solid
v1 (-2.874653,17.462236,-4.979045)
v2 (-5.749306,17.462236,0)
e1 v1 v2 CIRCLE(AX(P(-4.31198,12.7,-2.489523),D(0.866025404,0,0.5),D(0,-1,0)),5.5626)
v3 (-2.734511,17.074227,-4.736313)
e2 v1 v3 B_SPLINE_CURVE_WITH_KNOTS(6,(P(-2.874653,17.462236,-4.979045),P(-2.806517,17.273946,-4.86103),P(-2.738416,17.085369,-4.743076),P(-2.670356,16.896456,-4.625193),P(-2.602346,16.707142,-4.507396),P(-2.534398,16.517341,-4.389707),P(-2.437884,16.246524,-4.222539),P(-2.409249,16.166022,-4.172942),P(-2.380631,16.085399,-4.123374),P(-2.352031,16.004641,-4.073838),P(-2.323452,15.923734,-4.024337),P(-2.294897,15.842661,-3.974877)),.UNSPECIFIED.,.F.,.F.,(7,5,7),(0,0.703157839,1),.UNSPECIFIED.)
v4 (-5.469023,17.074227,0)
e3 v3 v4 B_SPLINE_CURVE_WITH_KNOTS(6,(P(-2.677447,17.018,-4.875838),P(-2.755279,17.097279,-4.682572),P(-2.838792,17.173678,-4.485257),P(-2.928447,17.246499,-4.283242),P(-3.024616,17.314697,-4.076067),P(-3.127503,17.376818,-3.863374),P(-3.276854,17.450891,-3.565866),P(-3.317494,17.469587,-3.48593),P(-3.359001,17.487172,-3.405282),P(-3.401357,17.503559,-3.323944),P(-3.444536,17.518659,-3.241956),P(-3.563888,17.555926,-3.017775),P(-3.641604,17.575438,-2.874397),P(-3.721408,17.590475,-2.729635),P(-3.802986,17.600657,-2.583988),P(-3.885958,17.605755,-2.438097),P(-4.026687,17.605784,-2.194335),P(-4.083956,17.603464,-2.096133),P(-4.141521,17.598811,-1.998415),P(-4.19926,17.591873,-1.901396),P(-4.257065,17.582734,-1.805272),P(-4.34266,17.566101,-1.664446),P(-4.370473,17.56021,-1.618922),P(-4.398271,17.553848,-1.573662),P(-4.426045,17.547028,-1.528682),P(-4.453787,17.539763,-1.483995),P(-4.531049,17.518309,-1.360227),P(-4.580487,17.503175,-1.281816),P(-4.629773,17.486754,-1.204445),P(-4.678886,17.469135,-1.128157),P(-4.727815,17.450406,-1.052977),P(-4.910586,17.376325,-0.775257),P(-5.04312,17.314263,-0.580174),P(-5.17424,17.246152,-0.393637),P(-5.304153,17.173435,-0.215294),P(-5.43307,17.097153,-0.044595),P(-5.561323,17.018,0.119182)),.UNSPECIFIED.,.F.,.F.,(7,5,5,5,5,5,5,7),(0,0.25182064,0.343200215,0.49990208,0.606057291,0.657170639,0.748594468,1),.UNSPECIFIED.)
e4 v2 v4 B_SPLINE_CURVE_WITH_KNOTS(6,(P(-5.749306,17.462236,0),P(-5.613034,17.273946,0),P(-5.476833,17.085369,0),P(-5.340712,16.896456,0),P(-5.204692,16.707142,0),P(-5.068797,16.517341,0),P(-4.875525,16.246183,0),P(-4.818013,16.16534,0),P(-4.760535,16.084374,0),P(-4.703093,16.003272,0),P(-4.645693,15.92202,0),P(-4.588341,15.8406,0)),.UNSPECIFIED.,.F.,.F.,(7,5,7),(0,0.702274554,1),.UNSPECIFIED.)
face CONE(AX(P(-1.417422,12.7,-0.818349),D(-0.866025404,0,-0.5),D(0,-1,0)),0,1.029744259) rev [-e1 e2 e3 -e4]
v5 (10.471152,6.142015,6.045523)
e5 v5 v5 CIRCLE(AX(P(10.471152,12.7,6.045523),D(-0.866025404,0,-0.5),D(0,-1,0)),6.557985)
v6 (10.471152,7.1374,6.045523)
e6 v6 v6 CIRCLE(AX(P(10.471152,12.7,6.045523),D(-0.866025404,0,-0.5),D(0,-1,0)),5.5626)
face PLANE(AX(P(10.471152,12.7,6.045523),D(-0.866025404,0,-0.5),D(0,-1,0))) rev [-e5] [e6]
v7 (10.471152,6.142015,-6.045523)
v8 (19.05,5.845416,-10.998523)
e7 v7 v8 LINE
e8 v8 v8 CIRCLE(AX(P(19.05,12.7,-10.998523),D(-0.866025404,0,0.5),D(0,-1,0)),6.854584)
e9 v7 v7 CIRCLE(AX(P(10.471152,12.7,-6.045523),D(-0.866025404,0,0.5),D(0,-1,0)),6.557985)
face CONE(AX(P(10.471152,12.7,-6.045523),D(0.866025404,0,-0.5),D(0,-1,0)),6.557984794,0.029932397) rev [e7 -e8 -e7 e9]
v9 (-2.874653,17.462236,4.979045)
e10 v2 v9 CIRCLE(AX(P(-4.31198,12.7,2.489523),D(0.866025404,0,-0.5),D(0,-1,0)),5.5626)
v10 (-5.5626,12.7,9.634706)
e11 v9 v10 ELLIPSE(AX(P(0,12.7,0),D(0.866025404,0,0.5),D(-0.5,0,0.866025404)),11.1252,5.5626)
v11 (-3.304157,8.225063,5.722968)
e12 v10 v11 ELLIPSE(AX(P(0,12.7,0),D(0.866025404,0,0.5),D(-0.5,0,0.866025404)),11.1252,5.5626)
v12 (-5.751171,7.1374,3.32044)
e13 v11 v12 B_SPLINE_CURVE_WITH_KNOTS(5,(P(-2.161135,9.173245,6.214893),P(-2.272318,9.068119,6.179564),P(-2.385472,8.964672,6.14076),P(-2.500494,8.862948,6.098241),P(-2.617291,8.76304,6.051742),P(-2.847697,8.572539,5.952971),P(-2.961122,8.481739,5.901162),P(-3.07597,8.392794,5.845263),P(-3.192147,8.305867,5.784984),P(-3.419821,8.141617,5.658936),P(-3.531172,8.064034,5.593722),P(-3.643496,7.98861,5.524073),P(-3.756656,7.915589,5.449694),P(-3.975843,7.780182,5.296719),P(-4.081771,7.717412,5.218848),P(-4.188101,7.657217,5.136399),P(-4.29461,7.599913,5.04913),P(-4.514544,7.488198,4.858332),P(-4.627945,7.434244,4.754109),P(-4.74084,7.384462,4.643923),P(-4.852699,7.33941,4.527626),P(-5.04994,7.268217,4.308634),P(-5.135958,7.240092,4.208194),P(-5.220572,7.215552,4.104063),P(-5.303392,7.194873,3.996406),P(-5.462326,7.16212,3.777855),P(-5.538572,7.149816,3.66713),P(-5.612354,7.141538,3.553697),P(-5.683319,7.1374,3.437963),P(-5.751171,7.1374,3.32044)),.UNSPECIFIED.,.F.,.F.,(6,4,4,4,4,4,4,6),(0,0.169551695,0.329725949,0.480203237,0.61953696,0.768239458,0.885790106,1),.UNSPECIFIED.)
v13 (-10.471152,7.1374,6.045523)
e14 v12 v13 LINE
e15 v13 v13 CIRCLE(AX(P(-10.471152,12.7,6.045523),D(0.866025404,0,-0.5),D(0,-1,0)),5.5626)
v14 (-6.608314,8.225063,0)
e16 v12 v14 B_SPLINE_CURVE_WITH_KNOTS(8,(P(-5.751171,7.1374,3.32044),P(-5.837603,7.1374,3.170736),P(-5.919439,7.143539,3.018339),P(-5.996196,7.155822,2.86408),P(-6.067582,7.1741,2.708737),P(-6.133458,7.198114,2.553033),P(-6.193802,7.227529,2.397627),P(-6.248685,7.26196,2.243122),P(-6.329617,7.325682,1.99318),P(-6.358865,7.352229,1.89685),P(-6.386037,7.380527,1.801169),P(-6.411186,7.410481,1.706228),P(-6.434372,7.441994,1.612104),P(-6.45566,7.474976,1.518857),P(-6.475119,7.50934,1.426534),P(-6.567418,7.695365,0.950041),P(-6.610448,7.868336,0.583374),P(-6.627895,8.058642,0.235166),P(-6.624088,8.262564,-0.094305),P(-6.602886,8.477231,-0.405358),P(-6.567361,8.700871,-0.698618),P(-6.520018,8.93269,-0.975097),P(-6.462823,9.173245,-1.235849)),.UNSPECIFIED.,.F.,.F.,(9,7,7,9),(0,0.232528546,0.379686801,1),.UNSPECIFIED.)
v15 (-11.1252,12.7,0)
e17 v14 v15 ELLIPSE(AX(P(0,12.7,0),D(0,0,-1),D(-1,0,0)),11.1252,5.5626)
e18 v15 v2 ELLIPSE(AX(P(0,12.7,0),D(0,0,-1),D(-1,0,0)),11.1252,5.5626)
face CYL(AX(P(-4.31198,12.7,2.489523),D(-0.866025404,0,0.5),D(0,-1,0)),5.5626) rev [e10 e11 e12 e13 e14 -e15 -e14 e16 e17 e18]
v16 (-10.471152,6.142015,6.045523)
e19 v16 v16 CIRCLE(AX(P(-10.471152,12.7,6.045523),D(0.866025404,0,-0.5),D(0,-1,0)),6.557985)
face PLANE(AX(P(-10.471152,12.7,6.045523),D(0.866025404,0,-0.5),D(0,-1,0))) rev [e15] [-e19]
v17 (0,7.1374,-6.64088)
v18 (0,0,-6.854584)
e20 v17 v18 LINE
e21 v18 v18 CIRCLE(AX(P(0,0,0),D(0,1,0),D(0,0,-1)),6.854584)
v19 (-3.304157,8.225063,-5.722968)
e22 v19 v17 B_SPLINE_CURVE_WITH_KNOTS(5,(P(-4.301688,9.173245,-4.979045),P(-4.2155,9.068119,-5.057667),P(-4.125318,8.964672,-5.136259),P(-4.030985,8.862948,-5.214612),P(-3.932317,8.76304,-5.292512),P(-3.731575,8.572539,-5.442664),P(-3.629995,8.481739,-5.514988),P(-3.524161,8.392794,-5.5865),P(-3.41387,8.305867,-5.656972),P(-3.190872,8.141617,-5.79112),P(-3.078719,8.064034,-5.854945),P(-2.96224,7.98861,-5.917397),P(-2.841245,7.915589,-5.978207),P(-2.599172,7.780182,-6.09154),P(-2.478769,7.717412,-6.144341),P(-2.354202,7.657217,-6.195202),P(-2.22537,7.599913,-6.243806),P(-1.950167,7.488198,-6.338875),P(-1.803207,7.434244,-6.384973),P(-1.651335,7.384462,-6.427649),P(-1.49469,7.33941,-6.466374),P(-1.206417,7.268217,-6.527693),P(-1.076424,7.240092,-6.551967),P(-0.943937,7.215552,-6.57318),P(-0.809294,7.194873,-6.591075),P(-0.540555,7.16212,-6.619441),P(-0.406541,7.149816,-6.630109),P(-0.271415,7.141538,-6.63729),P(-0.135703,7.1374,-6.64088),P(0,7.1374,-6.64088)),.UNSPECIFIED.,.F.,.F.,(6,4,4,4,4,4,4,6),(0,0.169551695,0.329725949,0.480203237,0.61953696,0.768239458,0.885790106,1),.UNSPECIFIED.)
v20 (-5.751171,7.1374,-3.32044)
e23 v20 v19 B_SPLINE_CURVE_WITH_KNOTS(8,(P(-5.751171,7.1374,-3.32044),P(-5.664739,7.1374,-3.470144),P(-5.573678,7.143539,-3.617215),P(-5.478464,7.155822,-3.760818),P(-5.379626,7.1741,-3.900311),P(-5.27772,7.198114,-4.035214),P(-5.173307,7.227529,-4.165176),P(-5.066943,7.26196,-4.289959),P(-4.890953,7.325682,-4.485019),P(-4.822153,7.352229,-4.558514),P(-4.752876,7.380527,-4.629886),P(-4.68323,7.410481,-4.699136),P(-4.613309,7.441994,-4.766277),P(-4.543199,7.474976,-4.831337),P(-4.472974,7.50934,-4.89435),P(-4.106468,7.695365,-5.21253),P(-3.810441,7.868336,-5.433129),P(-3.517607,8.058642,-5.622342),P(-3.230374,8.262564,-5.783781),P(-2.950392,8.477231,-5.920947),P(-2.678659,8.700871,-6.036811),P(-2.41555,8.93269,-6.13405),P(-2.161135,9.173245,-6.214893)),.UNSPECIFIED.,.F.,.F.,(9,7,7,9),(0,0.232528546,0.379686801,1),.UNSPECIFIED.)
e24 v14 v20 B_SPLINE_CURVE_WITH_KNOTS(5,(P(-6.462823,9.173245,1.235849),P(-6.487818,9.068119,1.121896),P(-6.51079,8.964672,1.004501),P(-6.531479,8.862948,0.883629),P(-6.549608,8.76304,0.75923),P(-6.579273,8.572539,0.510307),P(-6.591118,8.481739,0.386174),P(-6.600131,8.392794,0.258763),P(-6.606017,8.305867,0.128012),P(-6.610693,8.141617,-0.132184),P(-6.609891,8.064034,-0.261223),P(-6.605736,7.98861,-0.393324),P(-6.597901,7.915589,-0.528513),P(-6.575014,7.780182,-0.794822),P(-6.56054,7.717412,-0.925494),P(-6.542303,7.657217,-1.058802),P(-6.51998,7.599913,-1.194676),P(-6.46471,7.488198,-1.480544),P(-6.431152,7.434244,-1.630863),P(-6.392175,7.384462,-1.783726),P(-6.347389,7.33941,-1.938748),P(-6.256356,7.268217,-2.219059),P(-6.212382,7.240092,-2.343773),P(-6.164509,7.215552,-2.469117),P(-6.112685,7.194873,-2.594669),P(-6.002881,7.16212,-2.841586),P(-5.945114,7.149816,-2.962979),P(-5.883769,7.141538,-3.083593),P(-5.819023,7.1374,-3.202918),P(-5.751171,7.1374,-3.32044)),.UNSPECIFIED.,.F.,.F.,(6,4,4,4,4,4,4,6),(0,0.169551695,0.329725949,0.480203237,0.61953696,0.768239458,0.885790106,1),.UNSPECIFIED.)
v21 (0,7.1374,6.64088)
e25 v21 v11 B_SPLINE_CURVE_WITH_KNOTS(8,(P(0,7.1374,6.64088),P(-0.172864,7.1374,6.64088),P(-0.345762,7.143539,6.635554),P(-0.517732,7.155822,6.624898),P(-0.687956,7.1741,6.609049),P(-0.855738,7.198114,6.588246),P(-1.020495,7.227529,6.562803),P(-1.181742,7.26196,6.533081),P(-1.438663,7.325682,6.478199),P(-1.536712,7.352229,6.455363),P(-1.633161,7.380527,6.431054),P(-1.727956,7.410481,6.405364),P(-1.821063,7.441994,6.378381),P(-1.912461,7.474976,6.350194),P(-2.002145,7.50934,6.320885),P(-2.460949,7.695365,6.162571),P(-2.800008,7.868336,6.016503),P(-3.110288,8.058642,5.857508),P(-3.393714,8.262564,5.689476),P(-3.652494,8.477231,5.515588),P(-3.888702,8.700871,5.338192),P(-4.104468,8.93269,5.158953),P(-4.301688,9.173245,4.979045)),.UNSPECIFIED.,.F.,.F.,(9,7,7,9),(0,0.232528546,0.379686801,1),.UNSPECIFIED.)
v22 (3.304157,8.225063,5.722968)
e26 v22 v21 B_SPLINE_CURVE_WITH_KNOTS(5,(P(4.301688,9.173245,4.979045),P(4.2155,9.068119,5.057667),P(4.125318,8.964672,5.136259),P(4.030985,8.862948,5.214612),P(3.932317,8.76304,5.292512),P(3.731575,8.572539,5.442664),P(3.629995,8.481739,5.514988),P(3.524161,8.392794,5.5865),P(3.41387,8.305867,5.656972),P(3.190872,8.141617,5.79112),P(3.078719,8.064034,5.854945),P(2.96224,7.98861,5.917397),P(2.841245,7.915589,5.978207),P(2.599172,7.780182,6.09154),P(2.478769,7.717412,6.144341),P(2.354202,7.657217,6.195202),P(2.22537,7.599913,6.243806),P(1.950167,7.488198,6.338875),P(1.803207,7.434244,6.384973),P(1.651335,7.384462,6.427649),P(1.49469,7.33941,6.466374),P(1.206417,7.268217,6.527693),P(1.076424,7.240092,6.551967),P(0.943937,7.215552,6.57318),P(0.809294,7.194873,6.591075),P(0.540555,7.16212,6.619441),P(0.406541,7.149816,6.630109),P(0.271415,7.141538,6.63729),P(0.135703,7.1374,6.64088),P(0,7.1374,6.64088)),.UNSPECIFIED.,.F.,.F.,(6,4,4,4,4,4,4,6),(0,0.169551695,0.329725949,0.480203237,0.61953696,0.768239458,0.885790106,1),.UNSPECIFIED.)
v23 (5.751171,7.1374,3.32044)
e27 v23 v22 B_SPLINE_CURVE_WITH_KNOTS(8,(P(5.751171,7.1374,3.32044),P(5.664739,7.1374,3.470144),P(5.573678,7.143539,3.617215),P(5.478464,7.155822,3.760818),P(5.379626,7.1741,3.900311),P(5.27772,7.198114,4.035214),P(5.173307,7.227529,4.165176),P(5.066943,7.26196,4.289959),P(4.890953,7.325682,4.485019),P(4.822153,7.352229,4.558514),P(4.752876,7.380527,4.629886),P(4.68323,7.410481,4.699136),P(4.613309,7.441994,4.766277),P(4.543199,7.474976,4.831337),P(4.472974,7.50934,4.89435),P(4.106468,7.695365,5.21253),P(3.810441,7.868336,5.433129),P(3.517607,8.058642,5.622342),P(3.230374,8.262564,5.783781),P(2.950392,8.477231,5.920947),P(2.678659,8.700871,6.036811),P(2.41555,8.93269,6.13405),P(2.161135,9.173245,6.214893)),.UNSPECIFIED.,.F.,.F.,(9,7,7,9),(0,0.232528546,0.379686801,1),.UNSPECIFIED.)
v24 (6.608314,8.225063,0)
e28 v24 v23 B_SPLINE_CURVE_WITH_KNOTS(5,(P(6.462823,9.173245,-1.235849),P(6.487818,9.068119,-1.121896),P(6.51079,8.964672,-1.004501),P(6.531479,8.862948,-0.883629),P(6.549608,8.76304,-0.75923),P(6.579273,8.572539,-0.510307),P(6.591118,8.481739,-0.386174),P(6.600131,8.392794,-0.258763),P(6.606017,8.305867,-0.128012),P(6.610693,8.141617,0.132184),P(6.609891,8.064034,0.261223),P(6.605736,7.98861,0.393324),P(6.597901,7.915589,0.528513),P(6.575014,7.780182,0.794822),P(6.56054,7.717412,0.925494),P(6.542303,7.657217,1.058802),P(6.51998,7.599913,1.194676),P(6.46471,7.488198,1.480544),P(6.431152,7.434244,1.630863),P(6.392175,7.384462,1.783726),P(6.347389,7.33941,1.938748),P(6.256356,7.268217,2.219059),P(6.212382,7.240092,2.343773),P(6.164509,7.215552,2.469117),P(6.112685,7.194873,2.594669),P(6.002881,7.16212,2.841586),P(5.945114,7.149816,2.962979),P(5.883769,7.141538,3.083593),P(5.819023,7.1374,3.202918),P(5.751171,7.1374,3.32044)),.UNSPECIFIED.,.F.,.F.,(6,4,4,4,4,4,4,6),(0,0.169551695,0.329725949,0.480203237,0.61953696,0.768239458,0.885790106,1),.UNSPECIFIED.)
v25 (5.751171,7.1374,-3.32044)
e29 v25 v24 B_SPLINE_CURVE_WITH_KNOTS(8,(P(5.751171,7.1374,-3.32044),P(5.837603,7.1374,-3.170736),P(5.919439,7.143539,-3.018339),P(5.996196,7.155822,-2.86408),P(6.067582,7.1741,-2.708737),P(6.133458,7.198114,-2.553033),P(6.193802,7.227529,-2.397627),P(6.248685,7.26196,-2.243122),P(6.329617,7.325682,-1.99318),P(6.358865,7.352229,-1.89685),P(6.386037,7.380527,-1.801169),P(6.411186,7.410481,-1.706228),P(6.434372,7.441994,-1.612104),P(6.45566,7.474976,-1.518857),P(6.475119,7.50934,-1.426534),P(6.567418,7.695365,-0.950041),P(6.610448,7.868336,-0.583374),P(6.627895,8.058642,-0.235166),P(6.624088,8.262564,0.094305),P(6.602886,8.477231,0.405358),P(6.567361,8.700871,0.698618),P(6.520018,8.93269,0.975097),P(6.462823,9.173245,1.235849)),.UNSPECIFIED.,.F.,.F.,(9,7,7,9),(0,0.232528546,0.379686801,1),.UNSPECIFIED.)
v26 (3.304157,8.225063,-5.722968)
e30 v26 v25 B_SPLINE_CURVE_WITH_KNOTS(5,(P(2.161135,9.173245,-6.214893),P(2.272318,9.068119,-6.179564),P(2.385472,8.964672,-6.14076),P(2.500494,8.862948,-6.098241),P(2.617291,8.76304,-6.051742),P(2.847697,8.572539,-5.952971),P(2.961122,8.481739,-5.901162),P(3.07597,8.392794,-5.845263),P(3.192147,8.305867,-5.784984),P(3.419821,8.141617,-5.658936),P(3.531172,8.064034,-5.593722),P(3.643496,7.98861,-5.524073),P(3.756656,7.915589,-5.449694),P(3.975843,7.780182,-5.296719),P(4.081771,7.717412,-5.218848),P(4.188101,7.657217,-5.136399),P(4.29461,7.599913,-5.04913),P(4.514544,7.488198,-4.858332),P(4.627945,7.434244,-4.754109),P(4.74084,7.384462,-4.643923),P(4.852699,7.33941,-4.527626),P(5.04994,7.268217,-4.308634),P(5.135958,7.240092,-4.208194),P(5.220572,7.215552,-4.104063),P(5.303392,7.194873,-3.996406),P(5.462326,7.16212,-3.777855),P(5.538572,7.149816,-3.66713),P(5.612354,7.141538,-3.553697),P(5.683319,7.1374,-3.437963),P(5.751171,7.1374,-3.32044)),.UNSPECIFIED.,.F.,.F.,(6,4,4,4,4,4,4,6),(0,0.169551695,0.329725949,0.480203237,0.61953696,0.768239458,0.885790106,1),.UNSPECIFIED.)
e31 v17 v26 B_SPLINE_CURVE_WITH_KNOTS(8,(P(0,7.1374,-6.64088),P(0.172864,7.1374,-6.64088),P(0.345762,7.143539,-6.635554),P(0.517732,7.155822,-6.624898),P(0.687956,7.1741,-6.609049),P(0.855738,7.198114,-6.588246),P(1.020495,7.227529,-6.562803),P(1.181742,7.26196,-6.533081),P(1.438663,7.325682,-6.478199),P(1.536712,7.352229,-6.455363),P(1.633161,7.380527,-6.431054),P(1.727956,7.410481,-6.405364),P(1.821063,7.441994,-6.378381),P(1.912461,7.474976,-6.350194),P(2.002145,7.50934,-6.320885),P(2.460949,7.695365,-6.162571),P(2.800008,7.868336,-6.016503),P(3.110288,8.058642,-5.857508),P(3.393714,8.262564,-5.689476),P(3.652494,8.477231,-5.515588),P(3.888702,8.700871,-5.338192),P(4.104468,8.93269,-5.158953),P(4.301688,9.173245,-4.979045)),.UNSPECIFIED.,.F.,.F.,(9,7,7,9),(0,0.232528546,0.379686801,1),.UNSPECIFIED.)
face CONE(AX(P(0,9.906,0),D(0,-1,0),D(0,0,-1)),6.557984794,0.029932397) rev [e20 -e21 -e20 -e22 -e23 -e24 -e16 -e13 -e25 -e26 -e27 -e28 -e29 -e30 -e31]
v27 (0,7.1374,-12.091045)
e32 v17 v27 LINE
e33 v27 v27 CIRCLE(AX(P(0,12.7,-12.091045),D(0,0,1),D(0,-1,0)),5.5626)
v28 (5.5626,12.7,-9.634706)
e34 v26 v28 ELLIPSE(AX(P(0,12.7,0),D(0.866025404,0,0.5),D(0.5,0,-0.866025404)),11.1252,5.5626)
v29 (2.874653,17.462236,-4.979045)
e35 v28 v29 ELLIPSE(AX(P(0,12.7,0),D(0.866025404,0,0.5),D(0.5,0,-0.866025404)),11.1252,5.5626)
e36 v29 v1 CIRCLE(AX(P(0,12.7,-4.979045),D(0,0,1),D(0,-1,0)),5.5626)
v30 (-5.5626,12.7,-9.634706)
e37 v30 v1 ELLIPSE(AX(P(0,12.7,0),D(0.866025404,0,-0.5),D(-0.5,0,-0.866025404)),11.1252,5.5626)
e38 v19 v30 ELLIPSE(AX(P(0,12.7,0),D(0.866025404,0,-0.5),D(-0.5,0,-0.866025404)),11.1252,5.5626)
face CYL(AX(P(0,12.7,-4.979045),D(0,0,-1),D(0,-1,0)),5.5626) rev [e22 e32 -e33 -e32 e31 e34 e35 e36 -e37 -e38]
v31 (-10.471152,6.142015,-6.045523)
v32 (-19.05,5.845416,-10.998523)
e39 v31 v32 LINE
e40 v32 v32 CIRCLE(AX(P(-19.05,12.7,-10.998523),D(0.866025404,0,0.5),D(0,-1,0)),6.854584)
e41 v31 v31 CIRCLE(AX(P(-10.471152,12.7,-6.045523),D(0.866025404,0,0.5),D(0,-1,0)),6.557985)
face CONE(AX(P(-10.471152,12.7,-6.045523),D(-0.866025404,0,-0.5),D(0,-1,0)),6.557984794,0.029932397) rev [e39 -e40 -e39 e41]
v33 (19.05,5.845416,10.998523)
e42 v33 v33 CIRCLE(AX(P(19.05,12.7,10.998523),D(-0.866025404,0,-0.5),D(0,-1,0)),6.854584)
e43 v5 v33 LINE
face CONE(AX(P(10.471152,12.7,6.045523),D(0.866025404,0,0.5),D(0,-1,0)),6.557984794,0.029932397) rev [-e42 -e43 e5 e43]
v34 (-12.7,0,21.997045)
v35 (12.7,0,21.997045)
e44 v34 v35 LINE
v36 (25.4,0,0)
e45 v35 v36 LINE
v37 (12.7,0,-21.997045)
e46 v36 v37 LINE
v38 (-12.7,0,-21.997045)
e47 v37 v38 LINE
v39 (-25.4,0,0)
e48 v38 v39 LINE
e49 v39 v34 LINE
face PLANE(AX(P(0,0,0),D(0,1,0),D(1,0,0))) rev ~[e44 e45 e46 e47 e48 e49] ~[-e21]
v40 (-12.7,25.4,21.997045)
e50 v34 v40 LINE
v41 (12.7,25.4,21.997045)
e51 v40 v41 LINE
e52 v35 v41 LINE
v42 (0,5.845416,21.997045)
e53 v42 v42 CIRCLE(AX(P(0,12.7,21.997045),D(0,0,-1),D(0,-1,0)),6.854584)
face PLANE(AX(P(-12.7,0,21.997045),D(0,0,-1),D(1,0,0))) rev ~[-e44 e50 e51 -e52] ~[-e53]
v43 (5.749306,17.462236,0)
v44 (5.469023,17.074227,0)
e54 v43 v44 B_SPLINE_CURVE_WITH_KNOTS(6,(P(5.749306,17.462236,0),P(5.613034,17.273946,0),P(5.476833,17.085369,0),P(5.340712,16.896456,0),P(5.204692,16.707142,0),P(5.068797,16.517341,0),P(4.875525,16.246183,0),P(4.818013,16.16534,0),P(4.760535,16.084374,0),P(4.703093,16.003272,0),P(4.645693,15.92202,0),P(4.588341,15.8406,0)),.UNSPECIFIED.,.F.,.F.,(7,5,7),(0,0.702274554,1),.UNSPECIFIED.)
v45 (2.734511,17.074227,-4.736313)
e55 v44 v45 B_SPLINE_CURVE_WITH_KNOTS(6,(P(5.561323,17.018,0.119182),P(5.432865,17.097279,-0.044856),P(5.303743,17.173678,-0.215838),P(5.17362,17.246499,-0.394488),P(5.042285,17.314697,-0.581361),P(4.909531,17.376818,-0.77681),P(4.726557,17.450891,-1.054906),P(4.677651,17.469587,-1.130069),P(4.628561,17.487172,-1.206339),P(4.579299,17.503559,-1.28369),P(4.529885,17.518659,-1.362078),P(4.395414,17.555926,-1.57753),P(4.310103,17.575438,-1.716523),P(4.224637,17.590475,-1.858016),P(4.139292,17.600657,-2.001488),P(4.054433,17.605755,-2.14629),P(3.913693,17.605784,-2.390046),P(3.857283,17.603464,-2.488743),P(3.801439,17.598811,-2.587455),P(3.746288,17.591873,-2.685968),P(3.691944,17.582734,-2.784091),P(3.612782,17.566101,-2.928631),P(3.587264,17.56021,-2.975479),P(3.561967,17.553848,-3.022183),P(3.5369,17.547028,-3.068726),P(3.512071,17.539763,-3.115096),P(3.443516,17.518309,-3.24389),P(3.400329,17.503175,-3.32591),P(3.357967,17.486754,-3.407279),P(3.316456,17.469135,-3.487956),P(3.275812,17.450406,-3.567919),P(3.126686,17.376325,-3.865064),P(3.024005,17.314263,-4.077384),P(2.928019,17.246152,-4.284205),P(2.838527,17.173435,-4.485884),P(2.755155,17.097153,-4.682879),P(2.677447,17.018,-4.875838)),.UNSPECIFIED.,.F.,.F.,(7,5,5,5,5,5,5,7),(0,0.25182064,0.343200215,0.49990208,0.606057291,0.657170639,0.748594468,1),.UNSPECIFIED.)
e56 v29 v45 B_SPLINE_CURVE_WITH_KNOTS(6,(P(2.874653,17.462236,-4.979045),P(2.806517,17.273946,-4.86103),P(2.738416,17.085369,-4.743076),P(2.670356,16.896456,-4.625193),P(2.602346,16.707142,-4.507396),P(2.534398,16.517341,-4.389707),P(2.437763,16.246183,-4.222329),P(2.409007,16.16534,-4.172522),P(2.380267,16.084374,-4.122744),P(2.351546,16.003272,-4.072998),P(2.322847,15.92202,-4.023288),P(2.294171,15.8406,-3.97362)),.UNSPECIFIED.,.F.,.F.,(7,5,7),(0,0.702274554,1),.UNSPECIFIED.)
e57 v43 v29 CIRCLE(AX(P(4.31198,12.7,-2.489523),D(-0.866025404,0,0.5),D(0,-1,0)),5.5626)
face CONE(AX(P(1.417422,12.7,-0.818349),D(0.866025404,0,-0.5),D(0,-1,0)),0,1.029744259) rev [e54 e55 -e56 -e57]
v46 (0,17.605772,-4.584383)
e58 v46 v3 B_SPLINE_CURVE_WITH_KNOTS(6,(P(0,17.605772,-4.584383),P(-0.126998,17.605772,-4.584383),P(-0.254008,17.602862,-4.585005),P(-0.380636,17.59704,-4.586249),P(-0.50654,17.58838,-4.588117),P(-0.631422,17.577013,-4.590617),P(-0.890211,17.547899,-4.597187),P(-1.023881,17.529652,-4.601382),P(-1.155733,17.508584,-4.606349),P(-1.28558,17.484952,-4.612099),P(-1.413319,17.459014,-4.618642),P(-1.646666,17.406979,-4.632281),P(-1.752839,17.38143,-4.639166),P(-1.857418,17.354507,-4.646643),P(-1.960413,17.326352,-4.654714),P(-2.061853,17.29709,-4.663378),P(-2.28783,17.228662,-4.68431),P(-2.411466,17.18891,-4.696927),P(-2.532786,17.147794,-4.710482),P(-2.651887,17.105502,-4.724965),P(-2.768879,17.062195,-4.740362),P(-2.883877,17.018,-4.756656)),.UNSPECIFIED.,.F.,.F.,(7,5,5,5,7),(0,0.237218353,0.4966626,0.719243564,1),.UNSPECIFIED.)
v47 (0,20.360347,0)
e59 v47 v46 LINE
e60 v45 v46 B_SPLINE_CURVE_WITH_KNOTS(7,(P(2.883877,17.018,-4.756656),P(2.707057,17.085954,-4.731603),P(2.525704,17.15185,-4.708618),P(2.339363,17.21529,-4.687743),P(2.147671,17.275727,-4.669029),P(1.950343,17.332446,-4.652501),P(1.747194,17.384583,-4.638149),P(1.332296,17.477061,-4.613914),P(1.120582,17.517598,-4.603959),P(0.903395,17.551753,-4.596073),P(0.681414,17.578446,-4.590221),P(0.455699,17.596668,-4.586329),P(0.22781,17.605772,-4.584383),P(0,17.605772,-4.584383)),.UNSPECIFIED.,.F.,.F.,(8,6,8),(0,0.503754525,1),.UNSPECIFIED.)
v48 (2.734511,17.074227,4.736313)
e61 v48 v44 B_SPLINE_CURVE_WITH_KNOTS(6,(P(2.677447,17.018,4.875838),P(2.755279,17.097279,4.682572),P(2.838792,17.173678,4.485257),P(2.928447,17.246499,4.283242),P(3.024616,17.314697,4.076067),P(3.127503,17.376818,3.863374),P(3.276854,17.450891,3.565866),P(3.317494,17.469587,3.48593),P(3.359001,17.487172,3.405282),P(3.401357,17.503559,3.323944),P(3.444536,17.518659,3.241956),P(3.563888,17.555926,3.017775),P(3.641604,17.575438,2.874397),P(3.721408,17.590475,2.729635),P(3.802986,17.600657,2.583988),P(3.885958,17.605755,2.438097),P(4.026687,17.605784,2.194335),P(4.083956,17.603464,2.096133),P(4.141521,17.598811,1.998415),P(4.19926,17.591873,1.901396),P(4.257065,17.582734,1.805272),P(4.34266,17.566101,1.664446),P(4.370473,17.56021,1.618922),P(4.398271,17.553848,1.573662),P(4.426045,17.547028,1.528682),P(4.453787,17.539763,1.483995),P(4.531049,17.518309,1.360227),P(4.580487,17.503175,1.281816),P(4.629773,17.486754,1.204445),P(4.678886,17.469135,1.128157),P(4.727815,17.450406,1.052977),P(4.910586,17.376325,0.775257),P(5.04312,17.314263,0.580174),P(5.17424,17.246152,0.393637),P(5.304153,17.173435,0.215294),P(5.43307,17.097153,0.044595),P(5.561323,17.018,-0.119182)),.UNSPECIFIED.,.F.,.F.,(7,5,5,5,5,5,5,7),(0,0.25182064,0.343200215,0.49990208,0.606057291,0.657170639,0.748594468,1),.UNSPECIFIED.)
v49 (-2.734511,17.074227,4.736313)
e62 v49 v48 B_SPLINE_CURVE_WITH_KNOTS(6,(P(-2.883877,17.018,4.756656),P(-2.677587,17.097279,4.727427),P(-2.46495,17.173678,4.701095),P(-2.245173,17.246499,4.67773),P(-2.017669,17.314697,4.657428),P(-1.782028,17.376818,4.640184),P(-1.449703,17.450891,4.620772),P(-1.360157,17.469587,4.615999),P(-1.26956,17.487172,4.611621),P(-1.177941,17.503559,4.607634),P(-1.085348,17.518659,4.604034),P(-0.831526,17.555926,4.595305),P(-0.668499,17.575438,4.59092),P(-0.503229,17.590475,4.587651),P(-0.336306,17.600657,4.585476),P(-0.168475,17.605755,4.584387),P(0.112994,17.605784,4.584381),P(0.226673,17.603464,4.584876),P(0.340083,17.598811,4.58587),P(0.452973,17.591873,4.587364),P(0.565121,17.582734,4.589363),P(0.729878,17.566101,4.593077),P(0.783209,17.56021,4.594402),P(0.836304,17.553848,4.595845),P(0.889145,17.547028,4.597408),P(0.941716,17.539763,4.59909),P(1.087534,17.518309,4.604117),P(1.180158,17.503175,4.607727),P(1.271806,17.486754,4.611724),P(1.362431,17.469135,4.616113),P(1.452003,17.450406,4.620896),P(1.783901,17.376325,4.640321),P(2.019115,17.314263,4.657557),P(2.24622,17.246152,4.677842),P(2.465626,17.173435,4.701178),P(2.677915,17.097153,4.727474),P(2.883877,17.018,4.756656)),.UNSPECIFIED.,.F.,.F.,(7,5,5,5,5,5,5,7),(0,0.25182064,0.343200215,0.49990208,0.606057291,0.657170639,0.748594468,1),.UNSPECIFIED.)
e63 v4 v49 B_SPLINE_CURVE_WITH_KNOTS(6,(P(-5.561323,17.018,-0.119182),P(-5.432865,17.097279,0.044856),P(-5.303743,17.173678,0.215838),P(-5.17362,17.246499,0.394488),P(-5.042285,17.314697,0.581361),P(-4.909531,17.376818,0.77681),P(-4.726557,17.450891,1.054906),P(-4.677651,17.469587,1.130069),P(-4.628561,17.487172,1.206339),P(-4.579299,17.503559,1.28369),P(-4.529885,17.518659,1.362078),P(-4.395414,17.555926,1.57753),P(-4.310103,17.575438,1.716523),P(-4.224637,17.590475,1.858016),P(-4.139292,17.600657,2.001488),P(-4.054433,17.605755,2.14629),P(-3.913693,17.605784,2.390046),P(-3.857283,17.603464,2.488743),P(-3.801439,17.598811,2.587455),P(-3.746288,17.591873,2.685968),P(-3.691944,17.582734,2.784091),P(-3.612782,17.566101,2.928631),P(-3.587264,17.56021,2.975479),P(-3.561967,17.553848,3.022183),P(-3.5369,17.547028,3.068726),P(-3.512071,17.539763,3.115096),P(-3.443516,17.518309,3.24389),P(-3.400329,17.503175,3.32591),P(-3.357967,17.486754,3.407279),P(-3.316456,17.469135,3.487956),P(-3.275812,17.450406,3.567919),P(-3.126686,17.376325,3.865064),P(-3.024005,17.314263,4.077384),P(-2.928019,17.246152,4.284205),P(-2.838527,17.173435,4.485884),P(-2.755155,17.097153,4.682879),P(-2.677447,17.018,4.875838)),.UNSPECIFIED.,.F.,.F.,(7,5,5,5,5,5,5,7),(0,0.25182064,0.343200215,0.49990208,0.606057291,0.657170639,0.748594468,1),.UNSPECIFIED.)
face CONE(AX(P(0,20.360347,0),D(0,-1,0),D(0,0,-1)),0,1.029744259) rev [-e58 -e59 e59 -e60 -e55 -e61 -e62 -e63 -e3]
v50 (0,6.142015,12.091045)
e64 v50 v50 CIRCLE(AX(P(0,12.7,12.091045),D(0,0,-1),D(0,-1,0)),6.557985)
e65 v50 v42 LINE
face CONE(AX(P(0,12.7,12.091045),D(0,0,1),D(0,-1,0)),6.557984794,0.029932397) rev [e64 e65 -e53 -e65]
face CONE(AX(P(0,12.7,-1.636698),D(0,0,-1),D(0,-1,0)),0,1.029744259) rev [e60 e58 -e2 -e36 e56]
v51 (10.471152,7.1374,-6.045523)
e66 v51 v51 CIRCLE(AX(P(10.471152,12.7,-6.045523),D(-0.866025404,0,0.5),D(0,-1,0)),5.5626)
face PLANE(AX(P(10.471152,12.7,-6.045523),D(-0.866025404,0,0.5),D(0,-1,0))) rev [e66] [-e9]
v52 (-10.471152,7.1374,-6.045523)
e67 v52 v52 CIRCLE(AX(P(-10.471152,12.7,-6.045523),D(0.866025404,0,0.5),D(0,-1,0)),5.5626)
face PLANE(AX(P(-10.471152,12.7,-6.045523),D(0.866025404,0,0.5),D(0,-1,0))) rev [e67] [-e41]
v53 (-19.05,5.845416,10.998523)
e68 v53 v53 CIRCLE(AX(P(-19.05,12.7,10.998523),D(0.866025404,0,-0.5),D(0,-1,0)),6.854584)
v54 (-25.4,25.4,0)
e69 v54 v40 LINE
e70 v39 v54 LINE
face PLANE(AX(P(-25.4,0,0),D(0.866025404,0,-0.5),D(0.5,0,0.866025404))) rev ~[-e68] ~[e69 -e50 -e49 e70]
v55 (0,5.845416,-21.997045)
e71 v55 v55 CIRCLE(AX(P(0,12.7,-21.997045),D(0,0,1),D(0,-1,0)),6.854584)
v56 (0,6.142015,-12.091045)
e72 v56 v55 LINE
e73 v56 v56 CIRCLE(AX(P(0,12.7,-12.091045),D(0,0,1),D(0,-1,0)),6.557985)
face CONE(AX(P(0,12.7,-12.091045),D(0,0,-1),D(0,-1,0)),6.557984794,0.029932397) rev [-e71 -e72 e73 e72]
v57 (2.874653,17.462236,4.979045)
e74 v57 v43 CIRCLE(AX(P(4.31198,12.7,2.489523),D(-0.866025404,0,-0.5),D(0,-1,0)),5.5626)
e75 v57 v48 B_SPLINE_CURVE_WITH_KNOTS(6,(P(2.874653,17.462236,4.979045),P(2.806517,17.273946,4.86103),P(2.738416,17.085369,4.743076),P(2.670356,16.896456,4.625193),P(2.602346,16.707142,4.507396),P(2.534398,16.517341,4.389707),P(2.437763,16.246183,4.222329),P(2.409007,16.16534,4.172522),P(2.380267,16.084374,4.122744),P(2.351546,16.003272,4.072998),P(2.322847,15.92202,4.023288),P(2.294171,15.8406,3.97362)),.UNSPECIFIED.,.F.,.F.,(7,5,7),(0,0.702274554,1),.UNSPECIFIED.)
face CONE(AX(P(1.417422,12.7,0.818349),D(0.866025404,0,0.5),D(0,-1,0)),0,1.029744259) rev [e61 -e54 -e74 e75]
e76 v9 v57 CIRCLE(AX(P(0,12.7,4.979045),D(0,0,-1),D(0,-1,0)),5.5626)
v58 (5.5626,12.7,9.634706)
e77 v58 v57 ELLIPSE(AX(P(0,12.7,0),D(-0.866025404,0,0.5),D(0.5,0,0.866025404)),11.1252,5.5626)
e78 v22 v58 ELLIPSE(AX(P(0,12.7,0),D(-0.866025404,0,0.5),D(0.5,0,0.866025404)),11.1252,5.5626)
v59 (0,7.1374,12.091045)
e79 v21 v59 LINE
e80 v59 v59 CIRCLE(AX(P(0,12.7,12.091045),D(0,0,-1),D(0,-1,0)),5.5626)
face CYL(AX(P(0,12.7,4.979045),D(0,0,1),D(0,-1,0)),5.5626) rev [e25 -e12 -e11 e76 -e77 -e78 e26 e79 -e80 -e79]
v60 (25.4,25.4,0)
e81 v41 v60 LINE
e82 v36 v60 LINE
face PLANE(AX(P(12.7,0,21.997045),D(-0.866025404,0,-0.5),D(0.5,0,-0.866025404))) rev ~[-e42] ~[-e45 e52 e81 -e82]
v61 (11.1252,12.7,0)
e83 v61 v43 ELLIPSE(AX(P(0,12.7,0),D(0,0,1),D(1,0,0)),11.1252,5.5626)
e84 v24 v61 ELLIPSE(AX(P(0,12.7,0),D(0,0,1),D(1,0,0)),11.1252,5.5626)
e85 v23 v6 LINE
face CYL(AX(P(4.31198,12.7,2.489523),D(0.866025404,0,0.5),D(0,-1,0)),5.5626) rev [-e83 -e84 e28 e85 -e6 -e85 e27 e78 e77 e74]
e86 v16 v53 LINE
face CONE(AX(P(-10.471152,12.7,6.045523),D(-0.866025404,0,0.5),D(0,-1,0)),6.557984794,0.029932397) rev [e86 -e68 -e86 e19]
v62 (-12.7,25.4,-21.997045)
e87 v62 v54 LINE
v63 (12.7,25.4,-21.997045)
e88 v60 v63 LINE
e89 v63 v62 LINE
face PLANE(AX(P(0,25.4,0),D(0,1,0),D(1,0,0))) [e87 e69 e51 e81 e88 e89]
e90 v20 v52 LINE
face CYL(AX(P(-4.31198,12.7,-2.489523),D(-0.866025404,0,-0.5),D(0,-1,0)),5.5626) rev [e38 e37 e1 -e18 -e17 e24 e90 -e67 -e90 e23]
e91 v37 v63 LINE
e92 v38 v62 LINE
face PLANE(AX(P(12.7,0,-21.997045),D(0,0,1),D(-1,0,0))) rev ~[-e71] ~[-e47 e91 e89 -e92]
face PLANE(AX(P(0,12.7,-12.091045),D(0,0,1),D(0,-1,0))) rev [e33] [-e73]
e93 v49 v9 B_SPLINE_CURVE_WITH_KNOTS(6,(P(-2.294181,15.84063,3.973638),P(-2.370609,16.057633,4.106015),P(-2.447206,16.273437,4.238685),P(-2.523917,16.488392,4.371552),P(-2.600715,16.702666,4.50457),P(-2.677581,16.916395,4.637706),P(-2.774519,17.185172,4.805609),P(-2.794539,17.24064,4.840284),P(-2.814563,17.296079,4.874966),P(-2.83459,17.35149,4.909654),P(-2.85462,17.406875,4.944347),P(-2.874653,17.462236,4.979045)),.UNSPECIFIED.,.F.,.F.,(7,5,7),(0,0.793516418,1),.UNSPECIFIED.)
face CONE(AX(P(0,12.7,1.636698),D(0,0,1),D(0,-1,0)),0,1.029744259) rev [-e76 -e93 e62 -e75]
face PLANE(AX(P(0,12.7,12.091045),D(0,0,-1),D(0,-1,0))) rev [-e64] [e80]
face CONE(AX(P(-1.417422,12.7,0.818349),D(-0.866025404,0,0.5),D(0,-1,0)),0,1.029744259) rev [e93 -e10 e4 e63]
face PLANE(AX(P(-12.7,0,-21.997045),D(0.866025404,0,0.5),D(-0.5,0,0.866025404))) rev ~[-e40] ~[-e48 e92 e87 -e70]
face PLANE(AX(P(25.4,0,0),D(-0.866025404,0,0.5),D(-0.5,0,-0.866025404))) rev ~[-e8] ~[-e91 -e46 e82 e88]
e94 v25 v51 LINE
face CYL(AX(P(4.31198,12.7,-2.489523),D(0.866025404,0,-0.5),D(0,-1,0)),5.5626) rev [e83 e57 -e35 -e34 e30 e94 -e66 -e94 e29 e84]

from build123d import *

# Parameters (mm, degrees)
BOSS_EXTRUDE1_DEPTH = 25.4
CIRPATTERN1_COUNT   = 6


with BuildPart() as part:
    # Sketch1 → Boss-Extrude1 (new body)
    with BuildSketch(Plane(origin=(0, 0, 0), x_dir=(1, 0, 0), z_dir=(0, 1, 0))):
        Polygon((25.4, 0), (12.7, 21.997045256), (-12.7, 21.997045256), (-25.4, 0), (-12.7, -21.997045256), (12.7, -21.997045256), align=None)
    extrude(amount=BOSS_EXTRUDE1_DEPTH)

    # Sketch2 → 1/4 NPT Tapped Hole1 (revolve, cut)
    with BuildSketch(Plane(origin=(0, 0, 0), x_dir=(0, 0, -1), z_dir=(1, 0, 0))):
        Polygon((0, 0), (0, 20.360347279), (5.5626, 17.018), (5.5626, 9.906), (6.557984794, 9.906), (6.8545837, 0), align=None)
    revolve(axis=Axis((0, -6.35, 0), (0, 1, 0)), mode=Mode.SUBTRACT)

    # Sketch4 → 1/4 NPT Tapped Hole2 (revolve, cut)
    with BuildSketch(Plane(origin=(0, 12.7, 21.997045256), x_dir=(0, -1, 0), z_dir=(1, 0, 0))):
        Polygon((0, 0), (0, 20.360347279), (5.5626, 17.018), (5.5626, 9.906), (6.557984794, 9.906), (6.8545837, 0), align=None)
    f_1_4_npt_tapped_hole2 = revolve(axis=Axis((0, 12.7, 28.347045256), (0, 0, -1)), mode=Mode.SUBTRACT)

    # CirPattern1: 1/4 NPT Tapped Hole2 ×6 about axis
    cirpattern1_axis = Axis((0, 0, 0), (0, 1, 0))
    for i in range(1, CIRPATTERN1_COUNT):
        add(f_1_4_npt_tapped_hole2.rotate(cirpattern1_axis, i * 360 / CIRPATTERN1_COUNT), mode=Mode.SUBTRACT)


solid = part.part
